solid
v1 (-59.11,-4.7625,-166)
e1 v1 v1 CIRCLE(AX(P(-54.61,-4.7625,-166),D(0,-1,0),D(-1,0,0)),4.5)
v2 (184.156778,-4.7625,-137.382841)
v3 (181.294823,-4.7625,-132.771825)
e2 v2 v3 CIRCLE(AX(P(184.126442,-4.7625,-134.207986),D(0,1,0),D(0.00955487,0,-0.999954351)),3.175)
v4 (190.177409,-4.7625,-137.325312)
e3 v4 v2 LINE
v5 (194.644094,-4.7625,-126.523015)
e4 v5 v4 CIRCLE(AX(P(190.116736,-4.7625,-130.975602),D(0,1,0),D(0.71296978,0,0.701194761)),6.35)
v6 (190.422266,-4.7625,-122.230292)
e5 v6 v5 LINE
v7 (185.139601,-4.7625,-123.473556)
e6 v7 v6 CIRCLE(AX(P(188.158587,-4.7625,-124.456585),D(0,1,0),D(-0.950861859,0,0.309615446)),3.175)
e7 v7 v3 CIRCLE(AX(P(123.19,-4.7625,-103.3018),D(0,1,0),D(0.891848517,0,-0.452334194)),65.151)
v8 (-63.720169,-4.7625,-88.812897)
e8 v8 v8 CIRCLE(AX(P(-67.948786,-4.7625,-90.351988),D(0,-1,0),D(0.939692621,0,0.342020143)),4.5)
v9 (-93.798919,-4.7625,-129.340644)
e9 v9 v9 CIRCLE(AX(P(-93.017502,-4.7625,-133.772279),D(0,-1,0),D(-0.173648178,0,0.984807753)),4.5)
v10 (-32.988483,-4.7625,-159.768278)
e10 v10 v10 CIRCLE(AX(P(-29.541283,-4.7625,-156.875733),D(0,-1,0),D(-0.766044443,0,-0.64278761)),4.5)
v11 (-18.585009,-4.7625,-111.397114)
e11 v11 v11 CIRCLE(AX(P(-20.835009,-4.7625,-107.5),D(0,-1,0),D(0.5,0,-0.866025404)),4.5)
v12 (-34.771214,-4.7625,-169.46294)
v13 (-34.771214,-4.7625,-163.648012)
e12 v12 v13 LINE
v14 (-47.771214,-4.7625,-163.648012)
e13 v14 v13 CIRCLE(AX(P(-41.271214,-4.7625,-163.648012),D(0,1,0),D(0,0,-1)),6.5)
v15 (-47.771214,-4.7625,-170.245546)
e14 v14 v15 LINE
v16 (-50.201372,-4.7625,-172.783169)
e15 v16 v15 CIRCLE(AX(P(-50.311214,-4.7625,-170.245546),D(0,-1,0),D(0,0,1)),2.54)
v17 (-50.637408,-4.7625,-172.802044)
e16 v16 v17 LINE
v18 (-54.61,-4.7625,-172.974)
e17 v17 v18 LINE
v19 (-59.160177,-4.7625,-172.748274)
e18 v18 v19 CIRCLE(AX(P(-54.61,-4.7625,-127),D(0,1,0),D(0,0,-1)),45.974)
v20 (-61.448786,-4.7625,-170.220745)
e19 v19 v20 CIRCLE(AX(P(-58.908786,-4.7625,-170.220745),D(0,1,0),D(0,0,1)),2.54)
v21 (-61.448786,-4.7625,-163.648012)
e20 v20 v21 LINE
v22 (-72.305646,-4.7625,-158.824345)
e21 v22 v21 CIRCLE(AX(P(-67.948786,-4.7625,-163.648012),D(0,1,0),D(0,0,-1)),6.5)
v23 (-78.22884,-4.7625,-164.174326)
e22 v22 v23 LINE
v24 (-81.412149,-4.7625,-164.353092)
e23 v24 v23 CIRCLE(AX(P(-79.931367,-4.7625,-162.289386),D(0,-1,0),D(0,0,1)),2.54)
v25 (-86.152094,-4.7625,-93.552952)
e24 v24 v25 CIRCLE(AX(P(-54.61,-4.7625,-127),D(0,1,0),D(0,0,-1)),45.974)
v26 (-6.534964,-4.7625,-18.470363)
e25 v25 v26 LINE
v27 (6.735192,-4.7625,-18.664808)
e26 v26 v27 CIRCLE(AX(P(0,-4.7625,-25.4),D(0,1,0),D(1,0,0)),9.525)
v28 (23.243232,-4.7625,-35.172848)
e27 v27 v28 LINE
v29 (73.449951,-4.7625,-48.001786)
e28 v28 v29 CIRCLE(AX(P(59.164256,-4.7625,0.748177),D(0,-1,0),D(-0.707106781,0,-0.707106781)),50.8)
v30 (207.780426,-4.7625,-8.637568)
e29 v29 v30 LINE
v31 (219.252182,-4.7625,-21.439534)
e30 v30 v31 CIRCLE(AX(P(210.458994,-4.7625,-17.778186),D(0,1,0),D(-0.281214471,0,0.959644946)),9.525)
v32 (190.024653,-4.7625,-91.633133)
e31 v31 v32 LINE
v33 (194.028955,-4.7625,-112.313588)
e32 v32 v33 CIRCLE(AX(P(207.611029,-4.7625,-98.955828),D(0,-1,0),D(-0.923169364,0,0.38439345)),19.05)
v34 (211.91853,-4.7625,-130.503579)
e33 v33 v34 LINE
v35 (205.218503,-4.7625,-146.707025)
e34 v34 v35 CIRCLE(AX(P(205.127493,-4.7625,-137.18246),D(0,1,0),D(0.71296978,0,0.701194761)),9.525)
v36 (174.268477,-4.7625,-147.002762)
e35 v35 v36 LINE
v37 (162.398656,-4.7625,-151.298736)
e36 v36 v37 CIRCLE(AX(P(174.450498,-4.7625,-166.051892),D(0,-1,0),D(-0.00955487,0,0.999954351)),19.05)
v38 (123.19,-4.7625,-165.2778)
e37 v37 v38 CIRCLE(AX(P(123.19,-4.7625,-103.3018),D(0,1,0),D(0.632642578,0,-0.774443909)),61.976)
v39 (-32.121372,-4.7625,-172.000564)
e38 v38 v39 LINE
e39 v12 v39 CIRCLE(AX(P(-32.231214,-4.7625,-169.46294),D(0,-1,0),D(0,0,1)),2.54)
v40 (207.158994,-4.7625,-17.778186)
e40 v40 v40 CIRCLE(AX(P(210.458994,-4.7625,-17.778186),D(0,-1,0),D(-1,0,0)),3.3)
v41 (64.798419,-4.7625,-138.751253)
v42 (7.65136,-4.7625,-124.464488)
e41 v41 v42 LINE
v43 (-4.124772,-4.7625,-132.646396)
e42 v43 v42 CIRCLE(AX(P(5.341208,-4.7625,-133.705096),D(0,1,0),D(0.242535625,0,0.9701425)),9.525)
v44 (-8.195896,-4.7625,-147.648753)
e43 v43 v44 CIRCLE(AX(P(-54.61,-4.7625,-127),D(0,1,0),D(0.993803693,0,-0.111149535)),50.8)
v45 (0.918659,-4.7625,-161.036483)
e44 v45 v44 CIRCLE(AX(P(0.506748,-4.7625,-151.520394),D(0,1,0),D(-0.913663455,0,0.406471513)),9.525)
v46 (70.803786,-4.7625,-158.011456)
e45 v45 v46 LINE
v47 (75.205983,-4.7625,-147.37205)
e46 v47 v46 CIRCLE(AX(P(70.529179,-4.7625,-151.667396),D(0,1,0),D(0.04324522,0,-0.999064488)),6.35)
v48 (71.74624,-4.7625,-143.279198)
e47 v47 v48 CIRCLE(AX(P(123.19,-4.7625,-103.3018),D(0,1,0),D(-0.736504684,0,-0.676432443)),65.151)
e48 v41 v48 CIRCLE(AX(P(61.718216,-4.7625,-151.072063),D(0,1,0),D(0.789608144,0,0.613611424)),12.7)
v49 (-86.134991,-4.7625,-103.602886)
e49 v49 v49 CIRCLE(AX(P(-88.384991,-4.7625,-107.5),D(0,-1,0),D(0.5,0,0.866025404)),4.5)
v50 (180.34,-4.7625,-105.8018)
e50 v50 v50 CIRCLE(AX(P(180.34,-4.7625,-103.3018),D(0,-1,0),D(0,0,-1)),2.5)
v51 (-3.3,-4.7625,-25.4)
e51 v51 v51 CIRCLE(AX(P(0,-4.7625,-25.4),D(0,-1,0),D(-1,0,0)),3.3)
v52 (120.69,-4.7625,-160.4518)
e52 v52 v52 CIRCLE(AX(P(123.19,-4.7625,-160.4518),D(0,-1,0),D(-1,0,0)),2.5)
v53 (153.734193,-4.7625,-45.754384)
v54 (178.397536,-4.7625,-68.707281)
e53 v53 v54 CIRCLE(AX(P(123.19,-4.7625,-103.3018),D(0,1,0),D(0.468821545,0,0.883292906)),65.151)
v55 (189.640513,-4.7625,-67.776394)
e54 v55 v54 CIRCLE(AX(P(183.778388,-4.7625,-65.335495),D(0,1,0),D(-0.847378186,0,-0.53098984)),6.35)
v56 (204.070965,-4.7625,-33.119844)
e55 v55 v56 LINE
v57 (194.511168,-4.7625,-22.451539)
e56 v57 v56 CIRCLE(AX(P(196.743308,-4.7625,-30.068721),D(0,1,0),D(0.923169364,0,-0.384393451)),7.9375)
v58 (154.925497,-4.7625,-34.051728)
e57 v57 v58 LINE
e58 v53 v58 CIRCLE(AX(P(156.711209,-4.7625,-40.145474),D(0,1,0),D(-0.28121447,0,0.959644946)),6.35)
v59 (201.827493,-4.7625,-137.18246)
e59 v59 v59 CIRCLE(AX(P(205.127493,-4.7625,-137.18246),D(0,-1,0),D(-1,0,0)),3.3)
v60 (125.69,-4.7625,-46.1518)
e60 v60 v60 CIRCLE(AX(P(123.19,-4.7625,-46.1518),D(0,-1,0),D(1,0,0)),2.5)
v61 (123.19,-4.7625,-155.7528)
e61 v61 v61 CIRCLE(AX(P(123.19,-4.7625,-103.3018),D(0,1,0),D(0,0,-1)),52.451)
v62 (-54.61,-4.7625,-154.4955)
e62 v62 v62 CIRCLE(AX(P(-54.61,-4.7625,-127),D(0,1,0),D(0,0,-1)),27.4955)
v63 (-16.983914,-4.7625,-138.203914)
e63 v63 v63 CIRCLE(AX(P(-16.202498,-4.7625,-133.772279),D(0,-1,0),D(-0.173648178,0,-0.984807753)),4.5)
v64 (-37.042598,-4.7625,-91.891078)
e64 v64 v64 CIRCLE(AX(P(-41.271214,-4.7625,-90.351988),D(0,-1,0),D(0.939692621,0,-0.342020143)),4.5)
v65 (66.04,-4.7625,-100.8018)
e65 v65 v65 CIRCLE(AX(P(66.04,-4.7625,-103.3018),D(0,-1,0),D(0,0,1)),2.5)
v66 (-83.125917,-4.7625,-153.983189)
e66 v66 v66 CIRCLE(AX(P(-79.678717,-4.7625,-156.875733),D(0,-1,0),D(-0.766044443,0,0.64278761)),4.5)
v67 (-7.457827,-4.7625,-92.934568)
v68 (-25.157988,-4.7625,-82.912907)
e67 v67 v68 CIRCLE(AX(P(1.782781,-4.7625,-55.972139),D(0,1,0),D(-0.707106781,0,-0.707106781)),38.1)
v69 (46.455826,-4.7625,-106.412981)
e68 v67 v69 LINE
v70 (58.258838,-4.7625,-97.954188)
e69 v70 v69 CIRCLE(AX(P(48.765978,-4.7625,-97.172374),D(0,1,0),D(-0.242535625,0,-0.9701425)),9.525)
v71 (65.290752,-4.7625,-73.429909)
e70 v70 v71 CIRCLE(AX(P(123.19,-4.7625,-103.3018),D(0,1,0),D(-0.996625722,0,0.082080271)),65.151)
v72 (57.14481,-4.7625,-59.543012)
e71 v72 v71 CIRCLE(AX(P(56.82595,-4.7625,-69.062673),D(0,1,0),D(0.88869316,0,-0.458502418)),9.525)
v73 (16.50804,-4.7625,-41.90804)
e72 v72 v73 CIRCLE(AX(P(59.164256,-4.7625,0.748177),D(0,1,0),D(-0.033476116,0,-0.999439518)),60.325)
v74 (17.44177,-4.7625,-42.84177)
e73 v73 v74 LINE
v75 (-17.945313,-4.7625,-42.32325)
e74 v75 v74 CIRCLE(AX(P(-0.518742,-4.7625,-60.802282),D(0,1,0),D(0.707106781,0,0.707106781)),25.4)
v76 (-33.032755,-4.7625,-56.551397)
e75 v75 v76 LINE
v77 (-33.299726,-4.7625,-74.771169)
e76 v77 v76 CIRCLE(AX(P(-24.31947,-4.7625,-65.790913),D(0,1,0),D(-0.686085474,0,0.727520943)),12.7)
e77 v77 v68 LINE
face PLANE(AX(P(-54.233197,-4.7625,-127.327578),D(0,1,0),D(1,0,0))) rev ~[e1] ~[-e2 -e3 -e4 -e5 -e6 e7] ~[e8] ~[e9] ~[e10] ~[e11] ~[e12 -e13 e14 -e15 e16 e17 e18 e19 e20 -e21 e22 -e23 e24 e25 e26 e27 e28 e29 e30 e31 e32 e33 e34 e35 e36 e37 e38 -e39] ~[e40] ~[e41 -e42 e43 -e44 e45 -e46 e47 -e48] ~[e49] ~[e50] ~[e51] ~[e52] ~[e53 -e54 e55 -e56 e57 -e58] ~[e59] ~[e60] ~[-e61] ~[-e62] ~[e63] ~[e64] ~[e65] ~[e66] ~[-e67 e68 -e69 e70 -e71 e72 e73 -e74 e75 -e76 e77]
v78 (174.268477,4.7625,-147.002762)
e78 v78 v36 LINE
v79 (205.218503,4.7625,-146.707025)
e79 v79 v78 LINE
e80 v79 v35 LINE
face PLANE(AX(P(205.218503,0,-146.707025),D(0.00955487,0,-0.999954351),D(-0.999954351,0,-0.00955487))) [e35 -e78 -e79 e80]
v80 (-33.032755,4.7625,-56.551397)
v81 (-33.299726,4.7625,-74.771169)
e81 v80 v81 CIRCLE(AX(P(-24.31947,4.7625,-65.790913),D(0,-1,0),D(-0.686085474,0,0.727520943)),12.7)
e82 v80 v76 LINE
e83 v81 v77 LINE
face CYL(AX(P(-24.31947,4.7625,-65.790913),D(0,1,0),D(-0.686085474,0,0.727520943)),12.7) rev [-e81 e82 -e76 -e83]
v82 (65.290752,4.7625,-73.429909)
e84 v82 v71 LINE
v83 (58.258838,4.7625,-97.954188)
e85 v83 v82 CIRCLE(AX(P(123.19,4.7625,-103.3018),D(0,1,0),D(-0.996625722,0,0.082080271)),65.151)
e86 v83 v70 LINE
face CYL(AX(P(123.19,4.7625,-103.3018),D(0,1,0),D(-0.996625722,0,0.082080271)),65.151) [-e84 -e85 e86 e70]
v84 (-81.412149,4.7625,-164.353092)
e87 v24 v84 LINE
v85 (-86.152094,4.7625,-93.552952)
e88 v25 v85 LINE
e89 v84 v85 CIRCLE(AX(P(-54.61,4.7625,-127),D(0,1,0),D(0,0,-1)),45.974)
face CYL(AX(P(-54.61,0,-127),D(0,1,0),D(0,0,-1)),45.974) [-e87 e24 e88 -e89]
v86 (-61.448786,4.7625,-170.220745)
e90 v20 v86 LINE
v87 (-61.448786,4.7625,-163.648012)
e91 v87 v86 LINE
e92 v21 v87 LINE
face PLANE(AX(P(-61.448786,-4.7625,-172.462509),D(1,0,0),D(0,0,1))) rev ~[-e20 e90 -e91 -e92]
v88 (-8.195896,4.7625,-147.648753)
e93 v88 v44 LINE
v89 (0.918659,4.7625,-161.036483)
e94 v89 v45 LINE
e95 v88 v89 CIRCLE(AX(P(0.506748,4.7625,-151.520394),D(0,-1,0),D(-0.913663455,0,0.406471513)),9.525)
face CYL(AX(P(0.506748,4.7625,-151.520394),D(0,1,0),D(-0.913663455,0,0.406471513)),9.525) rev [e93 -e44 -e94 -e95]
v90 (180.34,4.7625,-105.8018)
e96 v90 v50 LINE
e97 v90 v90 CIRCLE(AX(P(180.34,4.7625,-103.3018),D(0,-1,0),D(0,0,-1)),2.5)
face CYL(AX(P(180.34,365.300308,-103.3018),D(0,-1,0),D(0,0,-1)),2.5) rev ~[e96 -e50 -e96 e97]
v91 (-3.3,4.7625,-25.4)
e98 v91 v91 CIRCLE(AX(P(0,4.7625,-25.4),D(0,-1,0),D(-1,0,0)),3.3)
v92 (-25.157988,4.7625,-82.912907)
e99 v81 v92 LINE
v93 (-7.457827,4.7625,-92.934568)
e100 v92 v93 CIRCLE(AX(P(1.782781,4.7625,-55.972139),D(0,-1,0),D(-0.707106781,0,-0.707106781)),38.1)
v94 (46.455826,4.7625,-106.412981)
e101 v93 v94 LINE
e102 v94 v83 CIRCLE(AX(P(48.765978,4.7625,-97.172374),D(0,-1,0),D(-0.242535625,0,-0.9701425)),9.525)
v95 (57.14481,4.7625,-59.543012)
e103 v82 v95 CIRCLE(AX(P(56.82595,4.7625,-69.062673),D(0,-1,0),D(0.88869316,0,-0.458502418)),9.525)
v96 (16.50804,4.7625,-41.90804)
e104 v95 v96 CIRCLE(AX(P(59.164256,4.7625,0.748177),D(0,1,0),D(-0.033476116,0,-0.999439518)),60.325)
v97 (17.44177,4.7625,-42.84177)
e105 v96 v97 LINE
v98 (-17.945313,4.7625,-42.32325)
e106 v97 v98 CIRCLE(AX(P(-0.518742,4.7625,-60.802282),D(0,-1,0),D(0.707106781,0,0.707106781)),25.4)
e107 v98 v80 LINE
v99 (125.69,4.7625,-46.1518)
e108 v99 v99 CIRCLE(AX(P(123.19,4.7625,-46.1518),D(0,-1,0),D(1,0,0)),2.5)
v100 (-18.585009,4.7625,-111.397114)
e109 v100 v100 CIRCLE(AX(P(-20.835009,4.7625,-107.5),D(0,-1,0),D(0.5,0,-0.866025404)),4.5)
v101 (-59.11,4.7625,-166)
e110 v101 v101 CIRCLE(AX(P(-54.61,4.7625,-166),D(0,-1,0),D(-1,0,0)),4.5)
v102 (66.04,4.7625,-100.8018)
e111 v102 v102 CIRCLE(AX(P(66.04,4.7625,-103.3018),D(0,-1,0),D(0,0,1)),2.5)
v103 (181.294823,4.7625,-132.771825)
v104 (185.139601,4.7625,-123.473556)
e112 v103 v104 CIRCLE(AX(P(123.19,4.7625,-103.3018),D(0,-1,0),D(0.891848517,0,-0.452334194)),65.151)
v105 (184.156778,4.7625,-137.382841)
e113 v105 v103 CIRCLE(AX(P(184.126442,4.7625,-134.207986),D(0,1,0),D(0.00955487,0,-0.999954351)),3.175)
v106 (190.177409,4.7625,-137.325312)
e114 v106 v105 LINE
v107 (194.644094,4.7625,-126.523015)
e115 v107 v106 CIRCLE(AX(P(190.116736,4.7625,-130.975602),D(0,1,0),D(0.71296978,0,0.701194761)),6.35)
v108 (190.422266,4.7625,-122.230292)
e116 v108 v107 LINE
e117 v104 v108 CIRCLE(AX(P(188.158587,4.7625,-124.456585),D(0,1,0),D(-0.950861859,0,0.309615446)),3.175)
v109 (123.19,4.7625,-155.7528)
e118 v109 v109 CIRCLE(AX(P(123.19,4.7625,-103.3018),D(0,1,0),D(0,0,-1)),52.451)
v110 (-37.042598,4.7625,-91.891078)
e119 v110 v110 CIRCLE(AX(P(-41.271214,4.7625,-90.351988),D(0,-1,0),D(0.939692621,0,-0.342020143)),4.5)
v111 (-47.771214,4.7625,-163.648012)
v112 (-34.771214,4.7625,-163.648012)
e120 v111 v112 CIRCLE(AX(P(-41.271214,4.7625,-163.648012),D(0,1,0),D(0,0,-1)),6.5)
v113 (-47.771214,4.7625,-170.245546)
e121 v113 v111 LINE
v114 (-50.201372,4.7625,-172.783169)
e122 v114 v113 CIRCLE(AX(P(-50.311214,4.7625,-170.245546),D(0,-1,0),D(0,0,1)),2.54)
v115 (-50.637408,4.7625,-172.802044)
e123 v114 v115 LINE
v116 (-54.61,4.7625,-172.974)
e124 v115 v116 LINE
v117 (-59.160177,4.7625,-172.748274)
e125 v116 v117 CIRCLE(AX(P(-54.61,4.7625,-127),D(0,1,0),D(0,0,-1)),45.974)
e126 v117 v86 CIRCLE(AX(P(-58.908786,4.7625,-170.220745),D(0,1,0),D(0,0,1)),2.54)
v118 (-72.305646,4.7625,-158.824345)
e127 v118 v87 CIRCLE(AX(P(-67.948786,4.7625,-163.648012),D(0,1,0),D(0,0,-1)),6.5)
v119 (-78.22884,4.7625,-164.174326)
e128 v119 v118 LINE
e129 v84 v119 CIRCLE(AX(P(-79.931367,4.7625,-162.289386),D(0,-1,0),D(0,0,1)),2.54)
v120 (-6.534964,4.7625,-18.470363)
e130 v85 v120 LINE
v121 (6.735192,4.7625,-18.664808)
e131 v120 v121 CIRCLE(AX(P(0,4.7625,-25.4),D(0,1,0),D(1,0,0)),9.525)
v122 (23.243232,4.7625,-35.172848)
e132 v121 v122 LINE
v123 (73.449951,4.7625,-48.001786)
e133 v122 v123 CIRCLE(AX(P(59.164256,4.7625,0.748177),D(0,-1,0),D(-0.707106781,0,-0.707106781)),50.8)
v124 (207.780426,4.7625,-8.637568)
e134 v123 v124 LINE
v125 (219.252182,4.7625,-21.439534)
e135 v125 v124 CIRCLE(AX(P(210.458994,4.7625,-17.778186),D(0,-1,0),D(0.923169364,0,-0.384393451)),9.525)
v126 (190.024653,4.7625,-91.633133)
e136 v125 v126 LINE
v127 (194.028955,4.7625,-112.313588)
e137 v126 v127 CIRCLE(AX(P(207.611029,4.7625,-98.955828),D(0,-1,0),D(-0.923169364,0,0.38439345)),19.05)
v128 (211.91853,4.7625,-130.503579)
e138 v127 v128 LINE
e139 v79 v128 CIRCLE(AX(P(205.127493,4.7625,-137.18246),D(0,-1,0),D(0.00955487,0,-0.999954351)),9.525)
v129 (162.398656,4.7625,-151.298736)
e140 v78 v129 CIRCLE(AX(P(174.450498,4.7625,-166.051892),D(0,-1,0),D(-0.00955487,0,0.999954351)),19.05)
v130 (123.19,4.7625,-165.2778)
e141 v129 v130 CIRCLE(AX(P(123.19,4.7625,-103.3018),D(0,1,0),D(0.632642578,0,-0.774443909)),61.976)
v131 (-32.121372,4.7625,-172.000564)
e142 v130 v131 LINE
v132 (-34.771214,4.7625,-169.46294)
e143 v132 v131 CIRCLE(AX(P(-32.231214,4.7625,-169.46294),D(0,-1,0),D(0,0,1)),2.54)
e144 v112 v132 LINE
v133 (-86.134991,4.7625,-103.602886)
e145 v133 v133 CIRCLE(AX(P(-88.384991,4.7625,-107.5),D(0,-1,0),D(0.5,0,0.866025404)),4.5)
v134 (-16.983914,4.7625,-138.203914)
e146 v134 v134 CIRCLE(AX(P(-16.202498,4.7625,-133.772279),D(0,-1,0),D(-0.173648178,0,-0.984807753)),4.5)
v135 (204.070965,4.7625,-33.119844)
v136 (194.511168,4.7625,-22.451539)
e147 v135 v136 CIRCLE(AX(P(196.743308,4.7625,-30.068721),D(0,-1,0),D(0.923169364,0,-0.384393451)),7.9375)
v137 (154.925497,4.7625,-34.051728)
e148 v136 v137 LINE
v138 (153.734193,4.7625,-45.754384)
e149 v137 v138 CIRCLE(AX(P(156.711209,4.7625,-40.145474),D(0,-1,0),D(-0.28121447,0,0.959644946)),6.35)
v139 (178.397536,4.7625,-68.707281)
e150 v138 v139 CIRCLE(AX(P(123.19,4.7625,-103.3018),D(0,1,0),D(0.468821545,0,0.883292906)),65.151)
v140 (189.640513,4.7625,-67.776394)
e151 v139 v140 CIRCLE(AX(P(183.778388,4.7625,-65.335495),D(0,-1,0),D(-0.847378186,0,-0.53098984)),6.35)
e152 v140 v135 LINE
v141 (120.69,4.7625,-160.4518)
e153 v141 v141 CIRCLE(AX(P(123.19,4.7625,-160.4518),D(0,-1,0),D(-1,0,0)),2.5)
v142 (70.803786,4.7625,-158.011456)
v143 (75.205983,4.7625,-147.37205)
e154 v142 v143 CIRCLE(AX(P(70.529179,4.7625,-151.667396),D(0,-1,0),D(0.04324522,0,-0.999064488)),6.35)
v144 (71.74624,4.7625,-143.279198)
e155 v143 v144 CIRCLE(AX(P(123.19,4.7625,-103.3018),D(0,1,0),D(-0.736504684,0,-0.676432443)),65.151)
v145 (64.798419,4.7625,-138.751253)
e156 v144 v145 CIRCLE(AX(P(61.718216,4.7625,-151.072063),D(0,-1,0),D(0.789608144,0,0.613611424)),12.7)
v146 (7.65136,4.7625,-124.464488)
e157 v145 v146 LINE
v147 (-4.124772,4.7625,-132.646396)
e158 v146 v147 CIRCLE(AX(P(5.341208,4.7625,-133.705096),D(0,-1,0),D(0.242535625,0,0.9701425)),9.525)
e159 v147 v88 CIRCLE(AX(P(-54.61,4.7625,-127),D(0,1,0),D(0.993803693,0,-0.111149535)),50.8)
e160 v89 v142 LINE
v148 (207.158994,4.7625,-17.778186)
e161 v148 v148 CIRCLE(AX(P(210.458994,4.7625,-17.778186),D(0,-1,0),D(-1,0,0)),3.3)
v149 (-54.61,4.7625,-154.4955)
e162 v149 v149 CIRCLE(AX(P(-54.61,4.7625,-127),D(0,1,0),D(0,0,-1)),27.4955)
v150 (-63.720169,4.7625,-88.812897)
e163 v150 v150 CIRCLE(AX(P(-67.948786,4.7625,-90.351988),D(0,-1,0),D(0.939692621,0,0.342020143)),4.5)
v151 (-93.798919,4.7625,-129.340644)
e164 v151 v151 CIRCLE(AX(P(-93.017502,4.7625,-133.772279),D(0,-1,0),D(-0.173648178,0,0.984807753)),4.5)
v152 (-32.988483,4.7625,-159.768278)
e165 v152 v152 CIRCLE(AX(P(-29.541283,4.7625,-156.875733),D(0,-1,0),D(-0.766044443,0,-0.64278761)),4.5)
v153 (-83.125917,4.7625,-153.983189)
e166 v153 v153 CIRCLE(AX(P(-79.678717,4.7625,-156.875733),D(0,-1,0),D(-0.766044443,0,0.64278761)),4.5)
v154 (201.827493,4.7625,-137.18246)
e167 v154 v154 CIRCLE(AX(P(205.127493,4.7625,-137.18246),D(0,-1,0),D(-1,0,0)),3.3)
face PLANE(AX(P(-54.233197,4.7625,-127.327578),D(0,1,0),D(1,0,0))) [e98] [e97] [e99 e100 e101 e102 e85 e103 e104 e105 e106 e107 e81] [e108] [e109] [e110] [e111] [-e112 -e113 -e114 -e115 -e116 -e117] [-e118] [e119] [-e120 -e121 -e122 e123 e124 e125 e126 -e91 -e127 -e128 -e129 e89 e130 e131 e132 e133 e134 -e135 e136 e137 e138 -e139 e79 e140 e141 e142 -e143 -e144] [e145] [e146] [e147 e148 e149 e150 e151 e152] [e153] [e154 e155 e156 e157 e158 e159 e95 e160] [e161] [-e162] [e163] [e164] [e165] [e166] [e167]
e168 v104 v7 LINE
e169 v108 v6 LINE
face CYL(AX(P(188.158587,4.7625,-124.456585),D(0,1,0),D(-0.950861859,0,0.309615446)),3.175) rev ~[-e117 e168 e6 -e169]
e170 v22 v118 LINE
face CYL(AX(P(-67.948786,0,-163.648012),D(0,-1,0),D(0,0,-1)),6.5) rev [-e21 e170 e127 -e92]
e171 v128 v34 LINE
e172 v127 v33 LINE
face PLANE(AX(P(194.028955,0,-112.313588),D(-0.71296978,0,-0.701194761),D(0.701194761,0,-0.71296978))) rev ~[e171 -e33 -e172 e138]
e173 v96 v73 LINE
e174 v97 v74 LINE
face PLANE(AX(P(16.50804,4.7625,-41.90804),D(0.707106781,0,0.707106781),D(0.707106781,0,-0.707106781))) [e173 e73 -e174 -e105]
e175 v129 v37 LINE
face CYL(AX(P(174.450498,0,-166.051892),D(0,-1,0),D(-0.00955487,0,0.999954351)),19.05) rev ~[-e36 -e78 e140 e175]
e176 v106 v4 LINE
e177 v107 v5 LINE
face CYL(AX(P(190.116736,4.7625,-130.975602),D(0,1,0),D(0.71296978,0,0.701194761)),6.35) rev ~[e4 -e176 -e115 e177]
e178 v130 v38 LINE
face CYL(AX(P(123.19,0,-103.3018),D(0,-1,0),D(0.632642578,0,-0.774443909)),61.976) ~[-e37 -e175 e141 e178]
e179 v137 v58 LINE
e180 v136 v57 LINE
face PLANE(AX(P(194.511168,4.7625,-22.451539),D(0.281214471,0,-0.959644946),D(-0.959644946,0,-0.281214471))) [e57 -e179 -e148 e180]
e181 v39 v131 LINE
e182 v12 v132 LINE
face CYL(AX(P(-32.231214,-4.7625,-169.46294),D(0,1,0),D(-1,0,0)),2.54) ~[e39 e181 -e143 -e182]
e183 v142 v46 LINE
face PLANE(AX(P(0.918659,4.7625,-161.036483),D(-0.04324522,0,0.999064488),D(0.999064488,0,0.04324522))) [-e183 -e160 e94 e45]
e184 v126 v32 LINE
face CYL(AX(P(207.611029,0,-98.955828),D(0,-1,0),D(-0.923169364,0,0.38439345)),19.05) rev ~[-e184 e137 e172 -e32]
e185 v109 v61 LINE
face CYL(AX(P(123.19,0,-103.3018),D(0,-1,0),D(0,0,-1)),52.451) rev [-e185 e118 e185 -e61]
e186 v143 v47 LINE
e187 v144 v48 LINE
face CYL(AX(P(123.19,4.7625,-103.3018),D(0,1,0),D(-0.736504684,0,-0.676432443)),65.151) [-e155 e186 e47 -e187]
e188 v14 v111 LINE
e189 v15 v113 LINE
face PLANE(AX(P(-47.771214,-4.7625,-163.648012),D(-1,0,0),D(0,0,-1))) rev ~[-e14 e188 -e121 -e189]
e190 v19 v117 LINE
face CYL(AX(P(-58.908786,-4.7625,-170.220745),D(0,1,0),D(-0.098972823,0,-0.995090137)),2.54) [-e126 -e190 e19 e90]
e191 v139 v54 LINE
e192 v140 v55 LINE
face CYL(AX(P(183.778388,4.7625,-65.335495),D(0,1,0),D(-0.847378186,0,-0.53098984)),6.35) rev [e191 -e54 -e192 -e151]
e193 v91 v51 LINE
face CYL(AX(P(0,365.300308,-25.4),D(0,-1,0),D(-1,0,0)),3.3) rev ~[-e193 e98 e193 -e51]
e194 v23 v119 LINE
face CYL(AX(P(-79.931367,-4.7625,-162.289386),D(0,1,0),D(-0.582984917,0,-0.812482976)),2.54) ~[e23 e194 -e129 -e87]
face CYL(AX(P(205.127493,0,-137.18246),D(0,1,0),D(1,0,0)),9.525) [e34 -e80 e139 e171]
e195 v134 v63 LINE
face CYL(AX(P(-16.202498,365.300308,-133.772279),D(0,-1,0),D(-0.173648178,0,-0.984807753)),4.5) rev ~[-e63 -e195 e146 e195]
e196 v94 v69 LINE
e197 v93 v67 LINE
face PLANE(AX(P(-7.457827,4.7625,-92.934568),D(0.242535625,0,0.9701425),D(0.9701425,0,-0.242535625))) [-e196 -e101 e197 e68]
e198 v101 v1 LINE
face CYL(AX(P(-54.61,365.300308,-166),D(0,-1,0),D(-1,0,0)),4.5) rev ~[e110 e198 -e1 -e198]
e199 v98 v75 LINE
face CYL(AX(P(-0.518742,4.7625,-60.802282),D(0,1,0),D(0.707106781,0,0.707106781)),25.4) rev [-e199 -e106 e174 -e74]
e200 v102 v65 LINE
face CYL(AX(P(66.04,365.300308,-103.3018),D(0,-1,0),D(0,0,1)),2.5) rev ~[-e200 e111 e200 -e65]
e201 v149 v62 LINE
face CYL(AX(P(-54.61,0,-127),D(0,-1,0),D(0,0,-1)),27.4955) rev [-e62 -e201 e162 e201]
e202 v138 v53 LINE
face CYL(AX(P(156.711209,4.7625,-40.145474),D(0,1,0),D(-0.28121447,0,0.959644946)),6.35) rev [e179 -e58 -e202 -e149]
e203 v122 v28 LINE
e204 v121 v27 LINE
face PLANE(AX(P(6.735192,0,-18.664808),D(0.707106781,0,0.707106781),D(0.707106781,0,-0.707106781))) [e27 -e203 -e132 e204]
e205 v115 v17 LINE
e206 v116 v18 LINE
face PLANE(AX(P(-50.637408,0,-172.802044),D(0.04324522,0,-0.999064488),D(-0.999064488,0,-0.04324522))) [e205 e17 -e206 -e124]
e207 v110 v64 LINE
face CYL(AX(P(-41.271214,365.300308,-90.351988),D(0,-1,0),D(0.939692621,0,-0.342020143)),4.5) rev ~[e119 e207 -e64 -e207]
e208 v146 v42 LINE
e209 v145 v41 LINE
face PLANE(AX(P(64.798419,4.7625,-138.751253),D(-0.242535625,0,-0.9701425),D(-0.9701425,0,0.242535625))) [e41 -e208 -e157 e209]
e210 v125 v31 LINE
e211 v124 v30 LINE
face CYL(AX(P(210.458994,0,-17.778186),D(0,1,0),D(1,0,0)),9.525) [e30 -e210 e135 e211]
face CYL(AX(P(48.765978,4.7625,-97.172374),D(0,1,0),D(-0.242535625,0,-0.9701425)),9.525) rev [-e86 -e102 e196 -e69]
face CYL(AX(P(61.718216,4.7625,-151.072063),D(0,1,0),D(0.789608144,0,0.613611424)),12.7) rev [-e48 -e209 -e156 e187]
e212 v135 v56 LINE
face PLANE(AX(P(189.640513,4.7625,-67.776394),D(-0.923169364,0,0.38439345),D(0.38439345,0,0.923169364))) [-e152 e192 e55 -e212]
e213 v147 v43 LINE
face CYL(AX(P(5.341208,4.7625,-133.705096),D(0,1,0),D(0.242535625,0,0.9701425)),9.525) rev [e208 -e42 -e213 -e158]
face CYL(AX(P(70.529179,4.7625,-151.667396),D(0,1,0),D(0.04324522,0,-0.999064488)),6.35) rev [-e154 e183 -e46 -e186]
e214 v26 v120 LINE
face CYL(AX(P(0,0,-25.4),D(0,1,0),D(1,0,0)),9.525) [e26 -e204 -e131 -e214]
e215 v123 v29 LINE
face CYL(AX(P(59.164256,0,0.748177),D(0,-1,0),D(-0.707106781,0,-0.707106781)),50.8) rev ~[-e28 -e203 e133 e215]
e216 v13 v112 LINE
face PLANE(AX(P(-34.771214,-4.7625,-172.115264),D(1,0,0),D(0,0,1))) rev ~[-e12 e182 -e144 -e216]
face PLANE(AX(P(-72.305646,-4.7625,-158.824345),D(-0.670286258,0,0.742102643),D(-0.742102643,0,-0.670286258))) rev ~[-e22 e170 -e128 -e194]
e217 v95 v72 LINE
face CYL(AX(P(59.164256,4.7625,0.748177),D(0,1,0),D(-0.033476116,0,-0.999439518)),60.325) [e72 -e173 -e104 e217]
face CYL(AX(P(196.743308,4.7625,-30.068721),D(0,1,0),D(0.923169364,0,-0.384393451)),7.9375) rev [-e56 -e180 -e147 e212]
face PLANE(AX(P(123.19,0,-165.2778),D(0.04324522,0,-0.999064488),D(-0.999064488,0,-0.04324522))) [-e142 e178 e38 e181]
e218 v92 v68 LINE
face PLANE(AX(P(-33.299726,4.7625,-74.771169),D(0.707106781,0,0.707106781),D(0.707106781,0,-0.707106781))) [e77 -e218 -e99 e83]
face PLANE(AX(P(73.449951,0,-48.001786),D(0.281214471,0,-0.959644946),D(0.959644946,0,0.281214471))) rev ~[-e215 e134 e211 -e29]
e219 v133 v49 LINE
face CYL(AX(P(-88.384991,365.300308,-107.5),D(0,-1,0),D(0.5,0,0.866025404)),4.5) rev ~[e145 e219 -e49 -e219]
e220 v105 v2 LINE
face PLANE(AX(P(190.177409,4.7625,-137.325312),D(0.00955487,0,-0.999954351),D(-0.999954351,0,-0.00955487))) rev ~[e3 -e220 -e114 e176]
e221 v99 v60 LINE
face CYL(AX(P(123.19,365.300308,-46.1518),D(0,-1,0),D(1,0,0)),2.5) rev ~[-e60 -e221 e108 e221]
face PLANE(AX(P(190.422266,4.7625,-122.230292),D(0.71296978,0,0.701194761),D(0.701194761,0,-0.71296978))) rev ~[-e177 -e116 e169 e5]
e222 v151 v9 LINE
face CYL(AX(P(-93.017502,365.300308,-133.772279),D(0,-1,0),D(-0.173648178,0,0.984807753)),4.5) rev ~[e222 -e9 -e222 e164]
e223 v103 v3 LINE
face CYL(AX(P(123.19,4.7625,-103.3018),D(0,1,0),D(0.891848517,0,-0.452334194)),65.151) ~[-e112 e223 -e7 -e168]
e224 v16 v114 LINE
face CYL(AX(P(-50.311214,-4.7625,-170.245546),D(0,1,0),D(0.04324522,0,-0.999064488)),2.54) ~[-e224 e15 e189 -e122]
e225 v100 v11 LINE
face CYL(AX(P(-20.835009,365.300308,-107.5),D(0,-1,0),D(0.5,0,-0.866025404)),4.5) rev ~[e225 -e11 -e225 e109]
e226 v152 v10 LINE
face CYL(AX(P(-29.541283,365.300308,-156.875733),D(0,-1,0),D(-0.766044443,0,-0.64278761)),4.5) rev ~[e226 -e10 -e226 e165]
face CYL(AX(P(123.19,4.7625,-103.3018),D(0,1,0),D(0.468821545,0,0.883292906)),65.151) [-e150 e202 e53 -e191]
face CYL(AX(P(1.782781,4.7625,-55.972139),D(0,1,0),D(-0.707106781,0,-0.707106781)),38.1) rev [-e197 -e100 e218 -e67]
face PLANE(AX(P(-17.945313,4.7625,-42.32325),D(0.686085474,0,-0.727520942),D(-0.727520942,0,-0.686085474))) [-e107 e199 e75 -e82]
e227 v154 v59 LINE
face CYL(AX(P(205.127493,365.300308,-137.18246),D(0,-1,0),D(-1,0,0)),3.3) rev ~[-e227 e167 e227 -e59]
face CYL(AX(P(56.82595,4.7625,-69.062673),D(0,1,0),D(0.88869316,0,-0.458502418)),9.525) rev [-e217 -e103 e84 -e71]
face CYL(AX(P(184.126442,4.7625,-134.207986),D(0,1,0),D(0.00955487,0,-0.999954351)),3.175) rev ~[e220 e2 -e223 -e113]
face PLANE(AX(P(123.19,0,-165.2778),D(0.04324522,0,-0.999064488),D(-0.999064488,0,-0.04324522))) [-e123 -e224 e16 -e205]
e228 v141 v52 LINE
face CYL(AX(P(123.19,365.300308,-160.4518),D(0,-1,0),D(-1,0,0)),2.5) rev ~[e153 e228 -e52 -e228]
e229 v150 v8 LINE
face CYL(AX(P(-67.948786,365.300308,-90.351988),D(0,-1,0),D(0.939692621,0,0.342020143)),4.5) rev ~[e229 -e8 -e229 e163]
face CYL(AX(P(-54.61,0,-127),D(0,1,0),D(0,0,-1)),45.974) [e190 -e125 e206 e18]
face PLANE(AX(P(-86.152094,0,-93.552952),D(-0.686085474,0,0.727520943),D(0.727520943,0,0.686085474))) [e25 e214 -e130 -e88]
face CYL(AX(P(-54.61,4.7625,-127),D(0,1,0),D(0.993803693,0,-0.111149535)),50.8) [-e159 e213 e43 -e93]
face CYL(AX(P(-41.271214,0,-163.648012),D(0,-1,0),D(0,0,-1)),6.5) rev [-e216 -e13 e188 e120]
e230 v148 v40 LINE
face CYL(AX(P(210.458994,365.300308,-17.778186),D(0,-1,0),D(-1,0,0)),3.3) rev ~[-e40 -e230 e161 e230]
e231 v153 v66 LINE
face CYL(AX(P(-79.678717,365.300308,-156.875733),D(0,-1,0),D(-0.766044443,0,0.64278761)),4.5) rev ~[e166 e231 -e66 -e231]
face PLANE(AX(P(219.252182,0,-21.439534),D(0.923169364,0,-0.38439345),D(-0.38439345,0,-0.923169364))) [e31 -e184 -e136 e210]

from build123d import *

# Parameters (mm, degrees)
MASTER_SKETCH_R       = 52.451
MASTER_SKETCH_R_2     = 9.525
MASTER_SKETCH_R_3     = 27.4955
MASTER_SKETCH_R_4     = 6.5
BOSS_EXTRUDE2_DEPTH   = 4.7625
F_5_0MM_DOWEL_HOLE1_D = 5
CIRPATTERN4_COUNT     = 4
M6_CLEARANCE_HOLE4_D  = 6.6
M8_CLEARANCE_HOLE1_D  = 9
CIRPATTERN3_COUNT     = 9
CUT_EXTRUDE2_DEPTH    = 281.006585399
CUT_EXTRUDE3_DEPTH    = 281.006585399
FILLET1_R             = 2.54


with BuildPart() as part:
    # Master Sketch → Boss-Extrude2 (new, symmetric)
    # profile 1 of 5: a face of its own
    with BuildSketch(Plane(origin=(0, 0, 0), x_dir=(1, 0, 0), z_dir=(0, 1, 0))):
        with BuildLine():
            ThreePointArc((-8.636, 127), (-36.396097826, 84.787887478), (-86.152093601, 93.552952189))
            Line((-86.152093601, 93.552952189), (-6.534964144, 18.470363023))
            ThreePointArc((-6.534964144, 18.470363023), (-3.773598517, 34.145603423), (9.525, 25.4))
            ThreePointArc((9.525, 25.4), (8.799952547, 21.754940307), (6.735192091, 18.664807909))
            Line((6.735192091, 18.664807909), (23.243231805, 35.172847623))
            ThreePointArc((23.243231805, 35.172847623), (46.587798651, 48.47044475), (73.449951392, 48.001786374))
            Line((73.449951392, 48.001786374), (207.780426054, 8.637567885))
            ThreePointArc((207.780426054, 8.637567885), (203.365353978, 24.134749361), (219.252182081, 21.439533608))
            Line((219.252182081, 21.439533608), (190.024652545, 91.633132973))
            ThreePointArc((190.024652545, 91.633132973), (188.9083984, 102.577169262), (194.028954622, 112.313588397))
            Line((194.028954622, 112.313588397), (211.918529766, 130.503579499))
            ThreePointArc((211.918529766, 130.503579499), (196.325302338, 133.542806943), (205.218502749, 146.70702479))
            Line((205.218502749, 146.70702479), (174.268477279, 147.002761769))
            ThreePointArc((174.268477279, 147.002761769), (167.967389572, 148.13899706), (162.39865644, 151.298735696))
            ThreePointArc((162.39865644, 151.298735696), (144.003054669, 161.678519087), (123.19, 165.2778))
            Line((123.19, 165.2778), (-50.637408401, 172.802043535))
            ThreePointArc((-50.637408401, 172.802043535), (-20.726046555, 158.072276629), (-8.636, 127))
        make_face()
        with Locations(Location((123.19, 103.3018, 0), (0, 0, 90))):
            Circle(MASTER_SKETCH_R, mode=Mode.SUBTRACT)
    # profile 2 of 5: a face of its own
    with BuildSketch(Plane(origin=(0, 0, 0), x_dir=(1, 0, 0), z_dir=(0, 1, 0))):
        with Locations((210.458993886, 17.778185992)):
            Circle(MASTER_SKETCH_R_2)
    # profile 3 of 5: a face of its own
    with BuildSketch(Plane(origin=(0, 0, 0), x_dir=(1, 0, 0), z_dir=(0, 1, 0))):
        with Locations((0, 25.4)):
            Circle(MASTER_SKETCH_R_2)
    # profile 4 of 5: a face of its own
    with BuildSketch(Plane(origin=(0, 0, 0), x_dir=(1, 0, 0), z_dir=(0, 1, 0))):
        with Locations((205.12749261, 137.182459595)):
            Circle(MASTER_SKETCH_R_2)
    # profile 5 of 5: a face of its own
    with BuildSketch(Plane(origin=(0, 0, 0), x_dir=(1, 0, 0), z_dir=(0, 1, 0))):
        with BuildLine():
            ThreePointArc((-54.61, 172.974), (-97.337644752, 143.969297274), (-86.152093601, 93.552952189))
            ThreePointArc((-86.152093601, 93.552952189), (-36.396097826, 84.787887478), (-8.636, 127))
            ThreePointArc((-8.636, 127), (-20.726046555, 158.072276629), (-50.637408401, 172.802043535))
            Line((-50.637408401, 172.802043535), (-54.61, 172.974))
        make_face()
        with Locations(Location((-54.61, 127, 0), (0, 0, 90))):
            Circle(MASTER_SKETCH_R_3, mode=Mode.SUBTRACT)
        with Locations(Location((-67.94878559, 163.648012211, 0), (0, 0, 90))):
            Circle(MASTER_SKETCH_R_4, mode=Mode.SUBTRACT)
        with Locations(Location((-41.27121441, 163.648012211, 0), (0, 0, 90))):
            Circle(MASTER_SKETCH_R_4, mode=Mode.SUBTRACT)
    extrude(amount=BOSS_EXTRUDE2_DEPTH, both=True)

    # Ø5.0mm Dowel Hole1 (through all)
    with Locations(Plane(origin=(0, 4.7625, 0), x_dir=(1, 0, 0), z_dir=(0, 1, 0))):
        with Locations((123.19, 160.4518)):
            f_5_0mm_dowel_hole1 = Hole(F_5_0MM_DOWEL_HOLE1_D / 2)

    # CirPattern4: Ø5.0mm Dowel Hole1 ×4 about axis
    cirpattern4_axis = Axis((123.19, 0, -103.3018), (0, 1, 0))
    for i in range(1, CIRPATTERN4_COUNT):
        add(f_5_0mm_dowel_hole1.rotate(cirpattern4_axis, i * 360 / CIRPATTERN4_COUNT), mode=Mode.SUBTRACT)

    # M6 Clearance Hole4 (through all)
    with Locations(Plane(origin=(0, 4.7625, 0), x_dir=(1, 0, 0), z_dir=(0, 1, 0))):
        with Locations((205.12749261, 137.182459595), (210.458993886, 17.778185992), (0, 25.4)):
            Hole(M6_CLEARANCE_HOLE4_D / 2)

    # M8 Clearance Hole1 (through all)
    with Locations(Plane(origin=(0, 4.7625, 0), x_dir=(1, 0, 0), z_dir=(0, 1, 0))):
        with Locations((-54.61, 166)):
            m8_clearance_hole1 = Hole(M8_CLEARANCE_HOLE1_D / 2)

    # CirPattern3: M8 Clearance Hole1 ×9 about axis
    cirpattern3_axis = Axis((-54.61, 0, -127), (0, 1, 0))
    for i in range(1, CIRPATTERN3_COUNT):
        add(m8_clearance_hole1.rotate(cirpattern3_axis, i * 360 / CIRPATTERN3_COUNT), mode=Mode.SUBTRACT)

    # Topology 3 → Cut-Extrude2 (cut, through all)
    with BuildSketch(Plane(origin=(0, 4.7625, 0), x_dir=(1, 0, 0), z_dir=(0, 1, 0))):
        with BuildLine():
            ThreePointArc((17.44176984, 42.84176984), (-0.146601343, 35.405008389), (-17.945313453, 42.323250142))
            Line((-17.945313453, 42.323250142), (-33.032755262, 56.551396808))
            ThreePointArc((-33.032755262, 56.551396808), (-37.018106584, 65.604842248), (-33.299725858, 74.771168898))
            Line((-33.299725858, 74.771168898), (-25.157987823, 82.912906934))
            ThreePointArc((-25.157987823, 82.912906934), (-16.98904431, 89.126755018), (-7.457826773, 92.934567826))
            Line((-7.457826773, 92.934567826), (46.455825782, 106.412980965))
            ThreePointArc((46.455825782, 106.412980965), (54.31445648, 104.914466858), (58.258837609, 97.954188236))
            ThreePointArc((58.258837609, 97.954188236), (60.562629767, 85.344481192), (65.290751922, 73.429908983))
            ThreePointArc((65.290751922, 73.429908983), (65.041767103, 64.243340795), (57.144809578, 59.543012047))
            ThreePointArc((57.144809578, 59.543012047), (35.149119712, 54.590587492), (16.508039714, 41.908039714))
            Line((16.508039714, 41.908039714), (17.44176984, 42.84176984))
        make_face()
        with BuildLine():
            ThreePointArc((70.803785714, 158.011455607), (76.396746832, 154.095181656), (75.205983312, 147.372050096))
            ThreePointArc((75.205983312, 147.372050096), (73.43400978, 145.361213194), (71.746239826, 143.279197866))
            ThreePointArc((71.746239826, 143.279197866), (68.65233257, 140.432136587), (64.798418838, 138.751253195))
            Line((64.798418838, 138.751253195), (7.651359628, 124.464488392))
            ThreePointArc((7.651359628, 124.464488392), (-0.093621954, 125.882803807), (-4.12477238, 132.646396384))
            ThreePointArc((-4.12477238, 132.646396384), (-5.583091379, 140.304218545), (-8.195896476, 147.648752845))
            ThreePointArc((-8.195896476, 147.648752845), (-7.366745421, 156.880779005), (0.918658655, 161.03648325))
            Line((0.918658655, 161.03648325), (70.803785714, 158.011455607))
        make_face()
        with BuildLine():
            ThreePointArc((153.7341925, 45.75438385), (167.575229688, 55.608989362), (178.397536188, 68.70728094))
            ThreePointArc((178.397536188, 68.70728094), (184.302356988, 71.663840908), (189.640513132, 67.776393867))
            Line((189.640513132, 67.776393867), (204.070964881, 33.119843524))
            ThreePointArc((204.070964881, 33.119843524), (202.654674642, 24.77158437), (194.511168192, 22.451538756))
            Line((194.511168192, 22.451538756), (154.925497425, 34.05172849))
            ThreePointArc((154.925497425, 34.05172849), (150.393857669, 39.502381203), (153.7341925, 45.75438385))
        make_face()
        with BuildLine():
            Line((190.422266455, 122.2302916), (194.644093936, 126.523015363))
            ThreePointArc((194.644093936, 126.523015363), (195.984862679, 133.402037195), (190.177409258, 137.325312223))
            Line((190.177409258, 137.325312223), (184.156778477, 137.382841196))
            ThreePointArc((184.156778477, 137.382841196), (181.428820013, 135.882340302), (181.294822723, 132.771825065))
            ThreePointArc((181.294822723, 132.771825065), (183.396981456, 128.197024139), (185.139600999, 123.473555924))
            ThreePointArc((185.139600999, 123.473555924), (187.431229964, 121.366022532), (190.422266455, 122.2302916))
        make_face()
    extrude(amount=-CUT_EXTRUDE2_DEPTH, mode=Mode.SUBTRACT)

    # Sketch29 → Cut-Extrude3 (cut, through all)
    with BuildSketch(Plane.XZ.offset(4.7625)):
        with BuildLine():
            Line((-72.305646266, -158.824345033), (-79.713448931, -165.515263569))
            ThreePointArc((-79.713448931, -165.515263569), (-70.954498766, -169.970525201), (-61.44878559, -172.462508594))
            Line((-61.44878559, -172.462508594), (-61.44878559, -163.648012211))
            ThreePointArc((-61.44878559, -163.648012211), (-70.587952655, -169.588112984), (-72.305646266, -158.824345033))
        make_face()
        with BuildLine():
            Line((-47.77121441, -163.648012211), (-47.77121441, -172.677978281))
            Line((-47.77121441, -172.677978281), (-34.77121441, -172.115263995))
            Line((-34.77121441, -172.115263995), (-34.77121441, -163.648012211))
            ThreePointArc((-34.77121441, -163.648012211), (-41.27121441, -170.148012211), (-47.77121441, -163.648012211))
        make_face()
    extrude(amount=-CUT_EXTRUDE3_DEPTH, mode=Mode.SUBTRACT)

    # Fillet1
    fillet1_edges = [part.edges().sort_by_distance(p)[0] for p in [
        (-61.44878559, 0, -172.462508594),
        (-79.713448931, 0, -165.515263569),
        (-34.77121441, 0, -172.115263995),
        (-47.77121441, 0, -172.677978281),
    ]]
    fillet(fillet1_edges, radius=FILLET1_R)


solid = part.part
